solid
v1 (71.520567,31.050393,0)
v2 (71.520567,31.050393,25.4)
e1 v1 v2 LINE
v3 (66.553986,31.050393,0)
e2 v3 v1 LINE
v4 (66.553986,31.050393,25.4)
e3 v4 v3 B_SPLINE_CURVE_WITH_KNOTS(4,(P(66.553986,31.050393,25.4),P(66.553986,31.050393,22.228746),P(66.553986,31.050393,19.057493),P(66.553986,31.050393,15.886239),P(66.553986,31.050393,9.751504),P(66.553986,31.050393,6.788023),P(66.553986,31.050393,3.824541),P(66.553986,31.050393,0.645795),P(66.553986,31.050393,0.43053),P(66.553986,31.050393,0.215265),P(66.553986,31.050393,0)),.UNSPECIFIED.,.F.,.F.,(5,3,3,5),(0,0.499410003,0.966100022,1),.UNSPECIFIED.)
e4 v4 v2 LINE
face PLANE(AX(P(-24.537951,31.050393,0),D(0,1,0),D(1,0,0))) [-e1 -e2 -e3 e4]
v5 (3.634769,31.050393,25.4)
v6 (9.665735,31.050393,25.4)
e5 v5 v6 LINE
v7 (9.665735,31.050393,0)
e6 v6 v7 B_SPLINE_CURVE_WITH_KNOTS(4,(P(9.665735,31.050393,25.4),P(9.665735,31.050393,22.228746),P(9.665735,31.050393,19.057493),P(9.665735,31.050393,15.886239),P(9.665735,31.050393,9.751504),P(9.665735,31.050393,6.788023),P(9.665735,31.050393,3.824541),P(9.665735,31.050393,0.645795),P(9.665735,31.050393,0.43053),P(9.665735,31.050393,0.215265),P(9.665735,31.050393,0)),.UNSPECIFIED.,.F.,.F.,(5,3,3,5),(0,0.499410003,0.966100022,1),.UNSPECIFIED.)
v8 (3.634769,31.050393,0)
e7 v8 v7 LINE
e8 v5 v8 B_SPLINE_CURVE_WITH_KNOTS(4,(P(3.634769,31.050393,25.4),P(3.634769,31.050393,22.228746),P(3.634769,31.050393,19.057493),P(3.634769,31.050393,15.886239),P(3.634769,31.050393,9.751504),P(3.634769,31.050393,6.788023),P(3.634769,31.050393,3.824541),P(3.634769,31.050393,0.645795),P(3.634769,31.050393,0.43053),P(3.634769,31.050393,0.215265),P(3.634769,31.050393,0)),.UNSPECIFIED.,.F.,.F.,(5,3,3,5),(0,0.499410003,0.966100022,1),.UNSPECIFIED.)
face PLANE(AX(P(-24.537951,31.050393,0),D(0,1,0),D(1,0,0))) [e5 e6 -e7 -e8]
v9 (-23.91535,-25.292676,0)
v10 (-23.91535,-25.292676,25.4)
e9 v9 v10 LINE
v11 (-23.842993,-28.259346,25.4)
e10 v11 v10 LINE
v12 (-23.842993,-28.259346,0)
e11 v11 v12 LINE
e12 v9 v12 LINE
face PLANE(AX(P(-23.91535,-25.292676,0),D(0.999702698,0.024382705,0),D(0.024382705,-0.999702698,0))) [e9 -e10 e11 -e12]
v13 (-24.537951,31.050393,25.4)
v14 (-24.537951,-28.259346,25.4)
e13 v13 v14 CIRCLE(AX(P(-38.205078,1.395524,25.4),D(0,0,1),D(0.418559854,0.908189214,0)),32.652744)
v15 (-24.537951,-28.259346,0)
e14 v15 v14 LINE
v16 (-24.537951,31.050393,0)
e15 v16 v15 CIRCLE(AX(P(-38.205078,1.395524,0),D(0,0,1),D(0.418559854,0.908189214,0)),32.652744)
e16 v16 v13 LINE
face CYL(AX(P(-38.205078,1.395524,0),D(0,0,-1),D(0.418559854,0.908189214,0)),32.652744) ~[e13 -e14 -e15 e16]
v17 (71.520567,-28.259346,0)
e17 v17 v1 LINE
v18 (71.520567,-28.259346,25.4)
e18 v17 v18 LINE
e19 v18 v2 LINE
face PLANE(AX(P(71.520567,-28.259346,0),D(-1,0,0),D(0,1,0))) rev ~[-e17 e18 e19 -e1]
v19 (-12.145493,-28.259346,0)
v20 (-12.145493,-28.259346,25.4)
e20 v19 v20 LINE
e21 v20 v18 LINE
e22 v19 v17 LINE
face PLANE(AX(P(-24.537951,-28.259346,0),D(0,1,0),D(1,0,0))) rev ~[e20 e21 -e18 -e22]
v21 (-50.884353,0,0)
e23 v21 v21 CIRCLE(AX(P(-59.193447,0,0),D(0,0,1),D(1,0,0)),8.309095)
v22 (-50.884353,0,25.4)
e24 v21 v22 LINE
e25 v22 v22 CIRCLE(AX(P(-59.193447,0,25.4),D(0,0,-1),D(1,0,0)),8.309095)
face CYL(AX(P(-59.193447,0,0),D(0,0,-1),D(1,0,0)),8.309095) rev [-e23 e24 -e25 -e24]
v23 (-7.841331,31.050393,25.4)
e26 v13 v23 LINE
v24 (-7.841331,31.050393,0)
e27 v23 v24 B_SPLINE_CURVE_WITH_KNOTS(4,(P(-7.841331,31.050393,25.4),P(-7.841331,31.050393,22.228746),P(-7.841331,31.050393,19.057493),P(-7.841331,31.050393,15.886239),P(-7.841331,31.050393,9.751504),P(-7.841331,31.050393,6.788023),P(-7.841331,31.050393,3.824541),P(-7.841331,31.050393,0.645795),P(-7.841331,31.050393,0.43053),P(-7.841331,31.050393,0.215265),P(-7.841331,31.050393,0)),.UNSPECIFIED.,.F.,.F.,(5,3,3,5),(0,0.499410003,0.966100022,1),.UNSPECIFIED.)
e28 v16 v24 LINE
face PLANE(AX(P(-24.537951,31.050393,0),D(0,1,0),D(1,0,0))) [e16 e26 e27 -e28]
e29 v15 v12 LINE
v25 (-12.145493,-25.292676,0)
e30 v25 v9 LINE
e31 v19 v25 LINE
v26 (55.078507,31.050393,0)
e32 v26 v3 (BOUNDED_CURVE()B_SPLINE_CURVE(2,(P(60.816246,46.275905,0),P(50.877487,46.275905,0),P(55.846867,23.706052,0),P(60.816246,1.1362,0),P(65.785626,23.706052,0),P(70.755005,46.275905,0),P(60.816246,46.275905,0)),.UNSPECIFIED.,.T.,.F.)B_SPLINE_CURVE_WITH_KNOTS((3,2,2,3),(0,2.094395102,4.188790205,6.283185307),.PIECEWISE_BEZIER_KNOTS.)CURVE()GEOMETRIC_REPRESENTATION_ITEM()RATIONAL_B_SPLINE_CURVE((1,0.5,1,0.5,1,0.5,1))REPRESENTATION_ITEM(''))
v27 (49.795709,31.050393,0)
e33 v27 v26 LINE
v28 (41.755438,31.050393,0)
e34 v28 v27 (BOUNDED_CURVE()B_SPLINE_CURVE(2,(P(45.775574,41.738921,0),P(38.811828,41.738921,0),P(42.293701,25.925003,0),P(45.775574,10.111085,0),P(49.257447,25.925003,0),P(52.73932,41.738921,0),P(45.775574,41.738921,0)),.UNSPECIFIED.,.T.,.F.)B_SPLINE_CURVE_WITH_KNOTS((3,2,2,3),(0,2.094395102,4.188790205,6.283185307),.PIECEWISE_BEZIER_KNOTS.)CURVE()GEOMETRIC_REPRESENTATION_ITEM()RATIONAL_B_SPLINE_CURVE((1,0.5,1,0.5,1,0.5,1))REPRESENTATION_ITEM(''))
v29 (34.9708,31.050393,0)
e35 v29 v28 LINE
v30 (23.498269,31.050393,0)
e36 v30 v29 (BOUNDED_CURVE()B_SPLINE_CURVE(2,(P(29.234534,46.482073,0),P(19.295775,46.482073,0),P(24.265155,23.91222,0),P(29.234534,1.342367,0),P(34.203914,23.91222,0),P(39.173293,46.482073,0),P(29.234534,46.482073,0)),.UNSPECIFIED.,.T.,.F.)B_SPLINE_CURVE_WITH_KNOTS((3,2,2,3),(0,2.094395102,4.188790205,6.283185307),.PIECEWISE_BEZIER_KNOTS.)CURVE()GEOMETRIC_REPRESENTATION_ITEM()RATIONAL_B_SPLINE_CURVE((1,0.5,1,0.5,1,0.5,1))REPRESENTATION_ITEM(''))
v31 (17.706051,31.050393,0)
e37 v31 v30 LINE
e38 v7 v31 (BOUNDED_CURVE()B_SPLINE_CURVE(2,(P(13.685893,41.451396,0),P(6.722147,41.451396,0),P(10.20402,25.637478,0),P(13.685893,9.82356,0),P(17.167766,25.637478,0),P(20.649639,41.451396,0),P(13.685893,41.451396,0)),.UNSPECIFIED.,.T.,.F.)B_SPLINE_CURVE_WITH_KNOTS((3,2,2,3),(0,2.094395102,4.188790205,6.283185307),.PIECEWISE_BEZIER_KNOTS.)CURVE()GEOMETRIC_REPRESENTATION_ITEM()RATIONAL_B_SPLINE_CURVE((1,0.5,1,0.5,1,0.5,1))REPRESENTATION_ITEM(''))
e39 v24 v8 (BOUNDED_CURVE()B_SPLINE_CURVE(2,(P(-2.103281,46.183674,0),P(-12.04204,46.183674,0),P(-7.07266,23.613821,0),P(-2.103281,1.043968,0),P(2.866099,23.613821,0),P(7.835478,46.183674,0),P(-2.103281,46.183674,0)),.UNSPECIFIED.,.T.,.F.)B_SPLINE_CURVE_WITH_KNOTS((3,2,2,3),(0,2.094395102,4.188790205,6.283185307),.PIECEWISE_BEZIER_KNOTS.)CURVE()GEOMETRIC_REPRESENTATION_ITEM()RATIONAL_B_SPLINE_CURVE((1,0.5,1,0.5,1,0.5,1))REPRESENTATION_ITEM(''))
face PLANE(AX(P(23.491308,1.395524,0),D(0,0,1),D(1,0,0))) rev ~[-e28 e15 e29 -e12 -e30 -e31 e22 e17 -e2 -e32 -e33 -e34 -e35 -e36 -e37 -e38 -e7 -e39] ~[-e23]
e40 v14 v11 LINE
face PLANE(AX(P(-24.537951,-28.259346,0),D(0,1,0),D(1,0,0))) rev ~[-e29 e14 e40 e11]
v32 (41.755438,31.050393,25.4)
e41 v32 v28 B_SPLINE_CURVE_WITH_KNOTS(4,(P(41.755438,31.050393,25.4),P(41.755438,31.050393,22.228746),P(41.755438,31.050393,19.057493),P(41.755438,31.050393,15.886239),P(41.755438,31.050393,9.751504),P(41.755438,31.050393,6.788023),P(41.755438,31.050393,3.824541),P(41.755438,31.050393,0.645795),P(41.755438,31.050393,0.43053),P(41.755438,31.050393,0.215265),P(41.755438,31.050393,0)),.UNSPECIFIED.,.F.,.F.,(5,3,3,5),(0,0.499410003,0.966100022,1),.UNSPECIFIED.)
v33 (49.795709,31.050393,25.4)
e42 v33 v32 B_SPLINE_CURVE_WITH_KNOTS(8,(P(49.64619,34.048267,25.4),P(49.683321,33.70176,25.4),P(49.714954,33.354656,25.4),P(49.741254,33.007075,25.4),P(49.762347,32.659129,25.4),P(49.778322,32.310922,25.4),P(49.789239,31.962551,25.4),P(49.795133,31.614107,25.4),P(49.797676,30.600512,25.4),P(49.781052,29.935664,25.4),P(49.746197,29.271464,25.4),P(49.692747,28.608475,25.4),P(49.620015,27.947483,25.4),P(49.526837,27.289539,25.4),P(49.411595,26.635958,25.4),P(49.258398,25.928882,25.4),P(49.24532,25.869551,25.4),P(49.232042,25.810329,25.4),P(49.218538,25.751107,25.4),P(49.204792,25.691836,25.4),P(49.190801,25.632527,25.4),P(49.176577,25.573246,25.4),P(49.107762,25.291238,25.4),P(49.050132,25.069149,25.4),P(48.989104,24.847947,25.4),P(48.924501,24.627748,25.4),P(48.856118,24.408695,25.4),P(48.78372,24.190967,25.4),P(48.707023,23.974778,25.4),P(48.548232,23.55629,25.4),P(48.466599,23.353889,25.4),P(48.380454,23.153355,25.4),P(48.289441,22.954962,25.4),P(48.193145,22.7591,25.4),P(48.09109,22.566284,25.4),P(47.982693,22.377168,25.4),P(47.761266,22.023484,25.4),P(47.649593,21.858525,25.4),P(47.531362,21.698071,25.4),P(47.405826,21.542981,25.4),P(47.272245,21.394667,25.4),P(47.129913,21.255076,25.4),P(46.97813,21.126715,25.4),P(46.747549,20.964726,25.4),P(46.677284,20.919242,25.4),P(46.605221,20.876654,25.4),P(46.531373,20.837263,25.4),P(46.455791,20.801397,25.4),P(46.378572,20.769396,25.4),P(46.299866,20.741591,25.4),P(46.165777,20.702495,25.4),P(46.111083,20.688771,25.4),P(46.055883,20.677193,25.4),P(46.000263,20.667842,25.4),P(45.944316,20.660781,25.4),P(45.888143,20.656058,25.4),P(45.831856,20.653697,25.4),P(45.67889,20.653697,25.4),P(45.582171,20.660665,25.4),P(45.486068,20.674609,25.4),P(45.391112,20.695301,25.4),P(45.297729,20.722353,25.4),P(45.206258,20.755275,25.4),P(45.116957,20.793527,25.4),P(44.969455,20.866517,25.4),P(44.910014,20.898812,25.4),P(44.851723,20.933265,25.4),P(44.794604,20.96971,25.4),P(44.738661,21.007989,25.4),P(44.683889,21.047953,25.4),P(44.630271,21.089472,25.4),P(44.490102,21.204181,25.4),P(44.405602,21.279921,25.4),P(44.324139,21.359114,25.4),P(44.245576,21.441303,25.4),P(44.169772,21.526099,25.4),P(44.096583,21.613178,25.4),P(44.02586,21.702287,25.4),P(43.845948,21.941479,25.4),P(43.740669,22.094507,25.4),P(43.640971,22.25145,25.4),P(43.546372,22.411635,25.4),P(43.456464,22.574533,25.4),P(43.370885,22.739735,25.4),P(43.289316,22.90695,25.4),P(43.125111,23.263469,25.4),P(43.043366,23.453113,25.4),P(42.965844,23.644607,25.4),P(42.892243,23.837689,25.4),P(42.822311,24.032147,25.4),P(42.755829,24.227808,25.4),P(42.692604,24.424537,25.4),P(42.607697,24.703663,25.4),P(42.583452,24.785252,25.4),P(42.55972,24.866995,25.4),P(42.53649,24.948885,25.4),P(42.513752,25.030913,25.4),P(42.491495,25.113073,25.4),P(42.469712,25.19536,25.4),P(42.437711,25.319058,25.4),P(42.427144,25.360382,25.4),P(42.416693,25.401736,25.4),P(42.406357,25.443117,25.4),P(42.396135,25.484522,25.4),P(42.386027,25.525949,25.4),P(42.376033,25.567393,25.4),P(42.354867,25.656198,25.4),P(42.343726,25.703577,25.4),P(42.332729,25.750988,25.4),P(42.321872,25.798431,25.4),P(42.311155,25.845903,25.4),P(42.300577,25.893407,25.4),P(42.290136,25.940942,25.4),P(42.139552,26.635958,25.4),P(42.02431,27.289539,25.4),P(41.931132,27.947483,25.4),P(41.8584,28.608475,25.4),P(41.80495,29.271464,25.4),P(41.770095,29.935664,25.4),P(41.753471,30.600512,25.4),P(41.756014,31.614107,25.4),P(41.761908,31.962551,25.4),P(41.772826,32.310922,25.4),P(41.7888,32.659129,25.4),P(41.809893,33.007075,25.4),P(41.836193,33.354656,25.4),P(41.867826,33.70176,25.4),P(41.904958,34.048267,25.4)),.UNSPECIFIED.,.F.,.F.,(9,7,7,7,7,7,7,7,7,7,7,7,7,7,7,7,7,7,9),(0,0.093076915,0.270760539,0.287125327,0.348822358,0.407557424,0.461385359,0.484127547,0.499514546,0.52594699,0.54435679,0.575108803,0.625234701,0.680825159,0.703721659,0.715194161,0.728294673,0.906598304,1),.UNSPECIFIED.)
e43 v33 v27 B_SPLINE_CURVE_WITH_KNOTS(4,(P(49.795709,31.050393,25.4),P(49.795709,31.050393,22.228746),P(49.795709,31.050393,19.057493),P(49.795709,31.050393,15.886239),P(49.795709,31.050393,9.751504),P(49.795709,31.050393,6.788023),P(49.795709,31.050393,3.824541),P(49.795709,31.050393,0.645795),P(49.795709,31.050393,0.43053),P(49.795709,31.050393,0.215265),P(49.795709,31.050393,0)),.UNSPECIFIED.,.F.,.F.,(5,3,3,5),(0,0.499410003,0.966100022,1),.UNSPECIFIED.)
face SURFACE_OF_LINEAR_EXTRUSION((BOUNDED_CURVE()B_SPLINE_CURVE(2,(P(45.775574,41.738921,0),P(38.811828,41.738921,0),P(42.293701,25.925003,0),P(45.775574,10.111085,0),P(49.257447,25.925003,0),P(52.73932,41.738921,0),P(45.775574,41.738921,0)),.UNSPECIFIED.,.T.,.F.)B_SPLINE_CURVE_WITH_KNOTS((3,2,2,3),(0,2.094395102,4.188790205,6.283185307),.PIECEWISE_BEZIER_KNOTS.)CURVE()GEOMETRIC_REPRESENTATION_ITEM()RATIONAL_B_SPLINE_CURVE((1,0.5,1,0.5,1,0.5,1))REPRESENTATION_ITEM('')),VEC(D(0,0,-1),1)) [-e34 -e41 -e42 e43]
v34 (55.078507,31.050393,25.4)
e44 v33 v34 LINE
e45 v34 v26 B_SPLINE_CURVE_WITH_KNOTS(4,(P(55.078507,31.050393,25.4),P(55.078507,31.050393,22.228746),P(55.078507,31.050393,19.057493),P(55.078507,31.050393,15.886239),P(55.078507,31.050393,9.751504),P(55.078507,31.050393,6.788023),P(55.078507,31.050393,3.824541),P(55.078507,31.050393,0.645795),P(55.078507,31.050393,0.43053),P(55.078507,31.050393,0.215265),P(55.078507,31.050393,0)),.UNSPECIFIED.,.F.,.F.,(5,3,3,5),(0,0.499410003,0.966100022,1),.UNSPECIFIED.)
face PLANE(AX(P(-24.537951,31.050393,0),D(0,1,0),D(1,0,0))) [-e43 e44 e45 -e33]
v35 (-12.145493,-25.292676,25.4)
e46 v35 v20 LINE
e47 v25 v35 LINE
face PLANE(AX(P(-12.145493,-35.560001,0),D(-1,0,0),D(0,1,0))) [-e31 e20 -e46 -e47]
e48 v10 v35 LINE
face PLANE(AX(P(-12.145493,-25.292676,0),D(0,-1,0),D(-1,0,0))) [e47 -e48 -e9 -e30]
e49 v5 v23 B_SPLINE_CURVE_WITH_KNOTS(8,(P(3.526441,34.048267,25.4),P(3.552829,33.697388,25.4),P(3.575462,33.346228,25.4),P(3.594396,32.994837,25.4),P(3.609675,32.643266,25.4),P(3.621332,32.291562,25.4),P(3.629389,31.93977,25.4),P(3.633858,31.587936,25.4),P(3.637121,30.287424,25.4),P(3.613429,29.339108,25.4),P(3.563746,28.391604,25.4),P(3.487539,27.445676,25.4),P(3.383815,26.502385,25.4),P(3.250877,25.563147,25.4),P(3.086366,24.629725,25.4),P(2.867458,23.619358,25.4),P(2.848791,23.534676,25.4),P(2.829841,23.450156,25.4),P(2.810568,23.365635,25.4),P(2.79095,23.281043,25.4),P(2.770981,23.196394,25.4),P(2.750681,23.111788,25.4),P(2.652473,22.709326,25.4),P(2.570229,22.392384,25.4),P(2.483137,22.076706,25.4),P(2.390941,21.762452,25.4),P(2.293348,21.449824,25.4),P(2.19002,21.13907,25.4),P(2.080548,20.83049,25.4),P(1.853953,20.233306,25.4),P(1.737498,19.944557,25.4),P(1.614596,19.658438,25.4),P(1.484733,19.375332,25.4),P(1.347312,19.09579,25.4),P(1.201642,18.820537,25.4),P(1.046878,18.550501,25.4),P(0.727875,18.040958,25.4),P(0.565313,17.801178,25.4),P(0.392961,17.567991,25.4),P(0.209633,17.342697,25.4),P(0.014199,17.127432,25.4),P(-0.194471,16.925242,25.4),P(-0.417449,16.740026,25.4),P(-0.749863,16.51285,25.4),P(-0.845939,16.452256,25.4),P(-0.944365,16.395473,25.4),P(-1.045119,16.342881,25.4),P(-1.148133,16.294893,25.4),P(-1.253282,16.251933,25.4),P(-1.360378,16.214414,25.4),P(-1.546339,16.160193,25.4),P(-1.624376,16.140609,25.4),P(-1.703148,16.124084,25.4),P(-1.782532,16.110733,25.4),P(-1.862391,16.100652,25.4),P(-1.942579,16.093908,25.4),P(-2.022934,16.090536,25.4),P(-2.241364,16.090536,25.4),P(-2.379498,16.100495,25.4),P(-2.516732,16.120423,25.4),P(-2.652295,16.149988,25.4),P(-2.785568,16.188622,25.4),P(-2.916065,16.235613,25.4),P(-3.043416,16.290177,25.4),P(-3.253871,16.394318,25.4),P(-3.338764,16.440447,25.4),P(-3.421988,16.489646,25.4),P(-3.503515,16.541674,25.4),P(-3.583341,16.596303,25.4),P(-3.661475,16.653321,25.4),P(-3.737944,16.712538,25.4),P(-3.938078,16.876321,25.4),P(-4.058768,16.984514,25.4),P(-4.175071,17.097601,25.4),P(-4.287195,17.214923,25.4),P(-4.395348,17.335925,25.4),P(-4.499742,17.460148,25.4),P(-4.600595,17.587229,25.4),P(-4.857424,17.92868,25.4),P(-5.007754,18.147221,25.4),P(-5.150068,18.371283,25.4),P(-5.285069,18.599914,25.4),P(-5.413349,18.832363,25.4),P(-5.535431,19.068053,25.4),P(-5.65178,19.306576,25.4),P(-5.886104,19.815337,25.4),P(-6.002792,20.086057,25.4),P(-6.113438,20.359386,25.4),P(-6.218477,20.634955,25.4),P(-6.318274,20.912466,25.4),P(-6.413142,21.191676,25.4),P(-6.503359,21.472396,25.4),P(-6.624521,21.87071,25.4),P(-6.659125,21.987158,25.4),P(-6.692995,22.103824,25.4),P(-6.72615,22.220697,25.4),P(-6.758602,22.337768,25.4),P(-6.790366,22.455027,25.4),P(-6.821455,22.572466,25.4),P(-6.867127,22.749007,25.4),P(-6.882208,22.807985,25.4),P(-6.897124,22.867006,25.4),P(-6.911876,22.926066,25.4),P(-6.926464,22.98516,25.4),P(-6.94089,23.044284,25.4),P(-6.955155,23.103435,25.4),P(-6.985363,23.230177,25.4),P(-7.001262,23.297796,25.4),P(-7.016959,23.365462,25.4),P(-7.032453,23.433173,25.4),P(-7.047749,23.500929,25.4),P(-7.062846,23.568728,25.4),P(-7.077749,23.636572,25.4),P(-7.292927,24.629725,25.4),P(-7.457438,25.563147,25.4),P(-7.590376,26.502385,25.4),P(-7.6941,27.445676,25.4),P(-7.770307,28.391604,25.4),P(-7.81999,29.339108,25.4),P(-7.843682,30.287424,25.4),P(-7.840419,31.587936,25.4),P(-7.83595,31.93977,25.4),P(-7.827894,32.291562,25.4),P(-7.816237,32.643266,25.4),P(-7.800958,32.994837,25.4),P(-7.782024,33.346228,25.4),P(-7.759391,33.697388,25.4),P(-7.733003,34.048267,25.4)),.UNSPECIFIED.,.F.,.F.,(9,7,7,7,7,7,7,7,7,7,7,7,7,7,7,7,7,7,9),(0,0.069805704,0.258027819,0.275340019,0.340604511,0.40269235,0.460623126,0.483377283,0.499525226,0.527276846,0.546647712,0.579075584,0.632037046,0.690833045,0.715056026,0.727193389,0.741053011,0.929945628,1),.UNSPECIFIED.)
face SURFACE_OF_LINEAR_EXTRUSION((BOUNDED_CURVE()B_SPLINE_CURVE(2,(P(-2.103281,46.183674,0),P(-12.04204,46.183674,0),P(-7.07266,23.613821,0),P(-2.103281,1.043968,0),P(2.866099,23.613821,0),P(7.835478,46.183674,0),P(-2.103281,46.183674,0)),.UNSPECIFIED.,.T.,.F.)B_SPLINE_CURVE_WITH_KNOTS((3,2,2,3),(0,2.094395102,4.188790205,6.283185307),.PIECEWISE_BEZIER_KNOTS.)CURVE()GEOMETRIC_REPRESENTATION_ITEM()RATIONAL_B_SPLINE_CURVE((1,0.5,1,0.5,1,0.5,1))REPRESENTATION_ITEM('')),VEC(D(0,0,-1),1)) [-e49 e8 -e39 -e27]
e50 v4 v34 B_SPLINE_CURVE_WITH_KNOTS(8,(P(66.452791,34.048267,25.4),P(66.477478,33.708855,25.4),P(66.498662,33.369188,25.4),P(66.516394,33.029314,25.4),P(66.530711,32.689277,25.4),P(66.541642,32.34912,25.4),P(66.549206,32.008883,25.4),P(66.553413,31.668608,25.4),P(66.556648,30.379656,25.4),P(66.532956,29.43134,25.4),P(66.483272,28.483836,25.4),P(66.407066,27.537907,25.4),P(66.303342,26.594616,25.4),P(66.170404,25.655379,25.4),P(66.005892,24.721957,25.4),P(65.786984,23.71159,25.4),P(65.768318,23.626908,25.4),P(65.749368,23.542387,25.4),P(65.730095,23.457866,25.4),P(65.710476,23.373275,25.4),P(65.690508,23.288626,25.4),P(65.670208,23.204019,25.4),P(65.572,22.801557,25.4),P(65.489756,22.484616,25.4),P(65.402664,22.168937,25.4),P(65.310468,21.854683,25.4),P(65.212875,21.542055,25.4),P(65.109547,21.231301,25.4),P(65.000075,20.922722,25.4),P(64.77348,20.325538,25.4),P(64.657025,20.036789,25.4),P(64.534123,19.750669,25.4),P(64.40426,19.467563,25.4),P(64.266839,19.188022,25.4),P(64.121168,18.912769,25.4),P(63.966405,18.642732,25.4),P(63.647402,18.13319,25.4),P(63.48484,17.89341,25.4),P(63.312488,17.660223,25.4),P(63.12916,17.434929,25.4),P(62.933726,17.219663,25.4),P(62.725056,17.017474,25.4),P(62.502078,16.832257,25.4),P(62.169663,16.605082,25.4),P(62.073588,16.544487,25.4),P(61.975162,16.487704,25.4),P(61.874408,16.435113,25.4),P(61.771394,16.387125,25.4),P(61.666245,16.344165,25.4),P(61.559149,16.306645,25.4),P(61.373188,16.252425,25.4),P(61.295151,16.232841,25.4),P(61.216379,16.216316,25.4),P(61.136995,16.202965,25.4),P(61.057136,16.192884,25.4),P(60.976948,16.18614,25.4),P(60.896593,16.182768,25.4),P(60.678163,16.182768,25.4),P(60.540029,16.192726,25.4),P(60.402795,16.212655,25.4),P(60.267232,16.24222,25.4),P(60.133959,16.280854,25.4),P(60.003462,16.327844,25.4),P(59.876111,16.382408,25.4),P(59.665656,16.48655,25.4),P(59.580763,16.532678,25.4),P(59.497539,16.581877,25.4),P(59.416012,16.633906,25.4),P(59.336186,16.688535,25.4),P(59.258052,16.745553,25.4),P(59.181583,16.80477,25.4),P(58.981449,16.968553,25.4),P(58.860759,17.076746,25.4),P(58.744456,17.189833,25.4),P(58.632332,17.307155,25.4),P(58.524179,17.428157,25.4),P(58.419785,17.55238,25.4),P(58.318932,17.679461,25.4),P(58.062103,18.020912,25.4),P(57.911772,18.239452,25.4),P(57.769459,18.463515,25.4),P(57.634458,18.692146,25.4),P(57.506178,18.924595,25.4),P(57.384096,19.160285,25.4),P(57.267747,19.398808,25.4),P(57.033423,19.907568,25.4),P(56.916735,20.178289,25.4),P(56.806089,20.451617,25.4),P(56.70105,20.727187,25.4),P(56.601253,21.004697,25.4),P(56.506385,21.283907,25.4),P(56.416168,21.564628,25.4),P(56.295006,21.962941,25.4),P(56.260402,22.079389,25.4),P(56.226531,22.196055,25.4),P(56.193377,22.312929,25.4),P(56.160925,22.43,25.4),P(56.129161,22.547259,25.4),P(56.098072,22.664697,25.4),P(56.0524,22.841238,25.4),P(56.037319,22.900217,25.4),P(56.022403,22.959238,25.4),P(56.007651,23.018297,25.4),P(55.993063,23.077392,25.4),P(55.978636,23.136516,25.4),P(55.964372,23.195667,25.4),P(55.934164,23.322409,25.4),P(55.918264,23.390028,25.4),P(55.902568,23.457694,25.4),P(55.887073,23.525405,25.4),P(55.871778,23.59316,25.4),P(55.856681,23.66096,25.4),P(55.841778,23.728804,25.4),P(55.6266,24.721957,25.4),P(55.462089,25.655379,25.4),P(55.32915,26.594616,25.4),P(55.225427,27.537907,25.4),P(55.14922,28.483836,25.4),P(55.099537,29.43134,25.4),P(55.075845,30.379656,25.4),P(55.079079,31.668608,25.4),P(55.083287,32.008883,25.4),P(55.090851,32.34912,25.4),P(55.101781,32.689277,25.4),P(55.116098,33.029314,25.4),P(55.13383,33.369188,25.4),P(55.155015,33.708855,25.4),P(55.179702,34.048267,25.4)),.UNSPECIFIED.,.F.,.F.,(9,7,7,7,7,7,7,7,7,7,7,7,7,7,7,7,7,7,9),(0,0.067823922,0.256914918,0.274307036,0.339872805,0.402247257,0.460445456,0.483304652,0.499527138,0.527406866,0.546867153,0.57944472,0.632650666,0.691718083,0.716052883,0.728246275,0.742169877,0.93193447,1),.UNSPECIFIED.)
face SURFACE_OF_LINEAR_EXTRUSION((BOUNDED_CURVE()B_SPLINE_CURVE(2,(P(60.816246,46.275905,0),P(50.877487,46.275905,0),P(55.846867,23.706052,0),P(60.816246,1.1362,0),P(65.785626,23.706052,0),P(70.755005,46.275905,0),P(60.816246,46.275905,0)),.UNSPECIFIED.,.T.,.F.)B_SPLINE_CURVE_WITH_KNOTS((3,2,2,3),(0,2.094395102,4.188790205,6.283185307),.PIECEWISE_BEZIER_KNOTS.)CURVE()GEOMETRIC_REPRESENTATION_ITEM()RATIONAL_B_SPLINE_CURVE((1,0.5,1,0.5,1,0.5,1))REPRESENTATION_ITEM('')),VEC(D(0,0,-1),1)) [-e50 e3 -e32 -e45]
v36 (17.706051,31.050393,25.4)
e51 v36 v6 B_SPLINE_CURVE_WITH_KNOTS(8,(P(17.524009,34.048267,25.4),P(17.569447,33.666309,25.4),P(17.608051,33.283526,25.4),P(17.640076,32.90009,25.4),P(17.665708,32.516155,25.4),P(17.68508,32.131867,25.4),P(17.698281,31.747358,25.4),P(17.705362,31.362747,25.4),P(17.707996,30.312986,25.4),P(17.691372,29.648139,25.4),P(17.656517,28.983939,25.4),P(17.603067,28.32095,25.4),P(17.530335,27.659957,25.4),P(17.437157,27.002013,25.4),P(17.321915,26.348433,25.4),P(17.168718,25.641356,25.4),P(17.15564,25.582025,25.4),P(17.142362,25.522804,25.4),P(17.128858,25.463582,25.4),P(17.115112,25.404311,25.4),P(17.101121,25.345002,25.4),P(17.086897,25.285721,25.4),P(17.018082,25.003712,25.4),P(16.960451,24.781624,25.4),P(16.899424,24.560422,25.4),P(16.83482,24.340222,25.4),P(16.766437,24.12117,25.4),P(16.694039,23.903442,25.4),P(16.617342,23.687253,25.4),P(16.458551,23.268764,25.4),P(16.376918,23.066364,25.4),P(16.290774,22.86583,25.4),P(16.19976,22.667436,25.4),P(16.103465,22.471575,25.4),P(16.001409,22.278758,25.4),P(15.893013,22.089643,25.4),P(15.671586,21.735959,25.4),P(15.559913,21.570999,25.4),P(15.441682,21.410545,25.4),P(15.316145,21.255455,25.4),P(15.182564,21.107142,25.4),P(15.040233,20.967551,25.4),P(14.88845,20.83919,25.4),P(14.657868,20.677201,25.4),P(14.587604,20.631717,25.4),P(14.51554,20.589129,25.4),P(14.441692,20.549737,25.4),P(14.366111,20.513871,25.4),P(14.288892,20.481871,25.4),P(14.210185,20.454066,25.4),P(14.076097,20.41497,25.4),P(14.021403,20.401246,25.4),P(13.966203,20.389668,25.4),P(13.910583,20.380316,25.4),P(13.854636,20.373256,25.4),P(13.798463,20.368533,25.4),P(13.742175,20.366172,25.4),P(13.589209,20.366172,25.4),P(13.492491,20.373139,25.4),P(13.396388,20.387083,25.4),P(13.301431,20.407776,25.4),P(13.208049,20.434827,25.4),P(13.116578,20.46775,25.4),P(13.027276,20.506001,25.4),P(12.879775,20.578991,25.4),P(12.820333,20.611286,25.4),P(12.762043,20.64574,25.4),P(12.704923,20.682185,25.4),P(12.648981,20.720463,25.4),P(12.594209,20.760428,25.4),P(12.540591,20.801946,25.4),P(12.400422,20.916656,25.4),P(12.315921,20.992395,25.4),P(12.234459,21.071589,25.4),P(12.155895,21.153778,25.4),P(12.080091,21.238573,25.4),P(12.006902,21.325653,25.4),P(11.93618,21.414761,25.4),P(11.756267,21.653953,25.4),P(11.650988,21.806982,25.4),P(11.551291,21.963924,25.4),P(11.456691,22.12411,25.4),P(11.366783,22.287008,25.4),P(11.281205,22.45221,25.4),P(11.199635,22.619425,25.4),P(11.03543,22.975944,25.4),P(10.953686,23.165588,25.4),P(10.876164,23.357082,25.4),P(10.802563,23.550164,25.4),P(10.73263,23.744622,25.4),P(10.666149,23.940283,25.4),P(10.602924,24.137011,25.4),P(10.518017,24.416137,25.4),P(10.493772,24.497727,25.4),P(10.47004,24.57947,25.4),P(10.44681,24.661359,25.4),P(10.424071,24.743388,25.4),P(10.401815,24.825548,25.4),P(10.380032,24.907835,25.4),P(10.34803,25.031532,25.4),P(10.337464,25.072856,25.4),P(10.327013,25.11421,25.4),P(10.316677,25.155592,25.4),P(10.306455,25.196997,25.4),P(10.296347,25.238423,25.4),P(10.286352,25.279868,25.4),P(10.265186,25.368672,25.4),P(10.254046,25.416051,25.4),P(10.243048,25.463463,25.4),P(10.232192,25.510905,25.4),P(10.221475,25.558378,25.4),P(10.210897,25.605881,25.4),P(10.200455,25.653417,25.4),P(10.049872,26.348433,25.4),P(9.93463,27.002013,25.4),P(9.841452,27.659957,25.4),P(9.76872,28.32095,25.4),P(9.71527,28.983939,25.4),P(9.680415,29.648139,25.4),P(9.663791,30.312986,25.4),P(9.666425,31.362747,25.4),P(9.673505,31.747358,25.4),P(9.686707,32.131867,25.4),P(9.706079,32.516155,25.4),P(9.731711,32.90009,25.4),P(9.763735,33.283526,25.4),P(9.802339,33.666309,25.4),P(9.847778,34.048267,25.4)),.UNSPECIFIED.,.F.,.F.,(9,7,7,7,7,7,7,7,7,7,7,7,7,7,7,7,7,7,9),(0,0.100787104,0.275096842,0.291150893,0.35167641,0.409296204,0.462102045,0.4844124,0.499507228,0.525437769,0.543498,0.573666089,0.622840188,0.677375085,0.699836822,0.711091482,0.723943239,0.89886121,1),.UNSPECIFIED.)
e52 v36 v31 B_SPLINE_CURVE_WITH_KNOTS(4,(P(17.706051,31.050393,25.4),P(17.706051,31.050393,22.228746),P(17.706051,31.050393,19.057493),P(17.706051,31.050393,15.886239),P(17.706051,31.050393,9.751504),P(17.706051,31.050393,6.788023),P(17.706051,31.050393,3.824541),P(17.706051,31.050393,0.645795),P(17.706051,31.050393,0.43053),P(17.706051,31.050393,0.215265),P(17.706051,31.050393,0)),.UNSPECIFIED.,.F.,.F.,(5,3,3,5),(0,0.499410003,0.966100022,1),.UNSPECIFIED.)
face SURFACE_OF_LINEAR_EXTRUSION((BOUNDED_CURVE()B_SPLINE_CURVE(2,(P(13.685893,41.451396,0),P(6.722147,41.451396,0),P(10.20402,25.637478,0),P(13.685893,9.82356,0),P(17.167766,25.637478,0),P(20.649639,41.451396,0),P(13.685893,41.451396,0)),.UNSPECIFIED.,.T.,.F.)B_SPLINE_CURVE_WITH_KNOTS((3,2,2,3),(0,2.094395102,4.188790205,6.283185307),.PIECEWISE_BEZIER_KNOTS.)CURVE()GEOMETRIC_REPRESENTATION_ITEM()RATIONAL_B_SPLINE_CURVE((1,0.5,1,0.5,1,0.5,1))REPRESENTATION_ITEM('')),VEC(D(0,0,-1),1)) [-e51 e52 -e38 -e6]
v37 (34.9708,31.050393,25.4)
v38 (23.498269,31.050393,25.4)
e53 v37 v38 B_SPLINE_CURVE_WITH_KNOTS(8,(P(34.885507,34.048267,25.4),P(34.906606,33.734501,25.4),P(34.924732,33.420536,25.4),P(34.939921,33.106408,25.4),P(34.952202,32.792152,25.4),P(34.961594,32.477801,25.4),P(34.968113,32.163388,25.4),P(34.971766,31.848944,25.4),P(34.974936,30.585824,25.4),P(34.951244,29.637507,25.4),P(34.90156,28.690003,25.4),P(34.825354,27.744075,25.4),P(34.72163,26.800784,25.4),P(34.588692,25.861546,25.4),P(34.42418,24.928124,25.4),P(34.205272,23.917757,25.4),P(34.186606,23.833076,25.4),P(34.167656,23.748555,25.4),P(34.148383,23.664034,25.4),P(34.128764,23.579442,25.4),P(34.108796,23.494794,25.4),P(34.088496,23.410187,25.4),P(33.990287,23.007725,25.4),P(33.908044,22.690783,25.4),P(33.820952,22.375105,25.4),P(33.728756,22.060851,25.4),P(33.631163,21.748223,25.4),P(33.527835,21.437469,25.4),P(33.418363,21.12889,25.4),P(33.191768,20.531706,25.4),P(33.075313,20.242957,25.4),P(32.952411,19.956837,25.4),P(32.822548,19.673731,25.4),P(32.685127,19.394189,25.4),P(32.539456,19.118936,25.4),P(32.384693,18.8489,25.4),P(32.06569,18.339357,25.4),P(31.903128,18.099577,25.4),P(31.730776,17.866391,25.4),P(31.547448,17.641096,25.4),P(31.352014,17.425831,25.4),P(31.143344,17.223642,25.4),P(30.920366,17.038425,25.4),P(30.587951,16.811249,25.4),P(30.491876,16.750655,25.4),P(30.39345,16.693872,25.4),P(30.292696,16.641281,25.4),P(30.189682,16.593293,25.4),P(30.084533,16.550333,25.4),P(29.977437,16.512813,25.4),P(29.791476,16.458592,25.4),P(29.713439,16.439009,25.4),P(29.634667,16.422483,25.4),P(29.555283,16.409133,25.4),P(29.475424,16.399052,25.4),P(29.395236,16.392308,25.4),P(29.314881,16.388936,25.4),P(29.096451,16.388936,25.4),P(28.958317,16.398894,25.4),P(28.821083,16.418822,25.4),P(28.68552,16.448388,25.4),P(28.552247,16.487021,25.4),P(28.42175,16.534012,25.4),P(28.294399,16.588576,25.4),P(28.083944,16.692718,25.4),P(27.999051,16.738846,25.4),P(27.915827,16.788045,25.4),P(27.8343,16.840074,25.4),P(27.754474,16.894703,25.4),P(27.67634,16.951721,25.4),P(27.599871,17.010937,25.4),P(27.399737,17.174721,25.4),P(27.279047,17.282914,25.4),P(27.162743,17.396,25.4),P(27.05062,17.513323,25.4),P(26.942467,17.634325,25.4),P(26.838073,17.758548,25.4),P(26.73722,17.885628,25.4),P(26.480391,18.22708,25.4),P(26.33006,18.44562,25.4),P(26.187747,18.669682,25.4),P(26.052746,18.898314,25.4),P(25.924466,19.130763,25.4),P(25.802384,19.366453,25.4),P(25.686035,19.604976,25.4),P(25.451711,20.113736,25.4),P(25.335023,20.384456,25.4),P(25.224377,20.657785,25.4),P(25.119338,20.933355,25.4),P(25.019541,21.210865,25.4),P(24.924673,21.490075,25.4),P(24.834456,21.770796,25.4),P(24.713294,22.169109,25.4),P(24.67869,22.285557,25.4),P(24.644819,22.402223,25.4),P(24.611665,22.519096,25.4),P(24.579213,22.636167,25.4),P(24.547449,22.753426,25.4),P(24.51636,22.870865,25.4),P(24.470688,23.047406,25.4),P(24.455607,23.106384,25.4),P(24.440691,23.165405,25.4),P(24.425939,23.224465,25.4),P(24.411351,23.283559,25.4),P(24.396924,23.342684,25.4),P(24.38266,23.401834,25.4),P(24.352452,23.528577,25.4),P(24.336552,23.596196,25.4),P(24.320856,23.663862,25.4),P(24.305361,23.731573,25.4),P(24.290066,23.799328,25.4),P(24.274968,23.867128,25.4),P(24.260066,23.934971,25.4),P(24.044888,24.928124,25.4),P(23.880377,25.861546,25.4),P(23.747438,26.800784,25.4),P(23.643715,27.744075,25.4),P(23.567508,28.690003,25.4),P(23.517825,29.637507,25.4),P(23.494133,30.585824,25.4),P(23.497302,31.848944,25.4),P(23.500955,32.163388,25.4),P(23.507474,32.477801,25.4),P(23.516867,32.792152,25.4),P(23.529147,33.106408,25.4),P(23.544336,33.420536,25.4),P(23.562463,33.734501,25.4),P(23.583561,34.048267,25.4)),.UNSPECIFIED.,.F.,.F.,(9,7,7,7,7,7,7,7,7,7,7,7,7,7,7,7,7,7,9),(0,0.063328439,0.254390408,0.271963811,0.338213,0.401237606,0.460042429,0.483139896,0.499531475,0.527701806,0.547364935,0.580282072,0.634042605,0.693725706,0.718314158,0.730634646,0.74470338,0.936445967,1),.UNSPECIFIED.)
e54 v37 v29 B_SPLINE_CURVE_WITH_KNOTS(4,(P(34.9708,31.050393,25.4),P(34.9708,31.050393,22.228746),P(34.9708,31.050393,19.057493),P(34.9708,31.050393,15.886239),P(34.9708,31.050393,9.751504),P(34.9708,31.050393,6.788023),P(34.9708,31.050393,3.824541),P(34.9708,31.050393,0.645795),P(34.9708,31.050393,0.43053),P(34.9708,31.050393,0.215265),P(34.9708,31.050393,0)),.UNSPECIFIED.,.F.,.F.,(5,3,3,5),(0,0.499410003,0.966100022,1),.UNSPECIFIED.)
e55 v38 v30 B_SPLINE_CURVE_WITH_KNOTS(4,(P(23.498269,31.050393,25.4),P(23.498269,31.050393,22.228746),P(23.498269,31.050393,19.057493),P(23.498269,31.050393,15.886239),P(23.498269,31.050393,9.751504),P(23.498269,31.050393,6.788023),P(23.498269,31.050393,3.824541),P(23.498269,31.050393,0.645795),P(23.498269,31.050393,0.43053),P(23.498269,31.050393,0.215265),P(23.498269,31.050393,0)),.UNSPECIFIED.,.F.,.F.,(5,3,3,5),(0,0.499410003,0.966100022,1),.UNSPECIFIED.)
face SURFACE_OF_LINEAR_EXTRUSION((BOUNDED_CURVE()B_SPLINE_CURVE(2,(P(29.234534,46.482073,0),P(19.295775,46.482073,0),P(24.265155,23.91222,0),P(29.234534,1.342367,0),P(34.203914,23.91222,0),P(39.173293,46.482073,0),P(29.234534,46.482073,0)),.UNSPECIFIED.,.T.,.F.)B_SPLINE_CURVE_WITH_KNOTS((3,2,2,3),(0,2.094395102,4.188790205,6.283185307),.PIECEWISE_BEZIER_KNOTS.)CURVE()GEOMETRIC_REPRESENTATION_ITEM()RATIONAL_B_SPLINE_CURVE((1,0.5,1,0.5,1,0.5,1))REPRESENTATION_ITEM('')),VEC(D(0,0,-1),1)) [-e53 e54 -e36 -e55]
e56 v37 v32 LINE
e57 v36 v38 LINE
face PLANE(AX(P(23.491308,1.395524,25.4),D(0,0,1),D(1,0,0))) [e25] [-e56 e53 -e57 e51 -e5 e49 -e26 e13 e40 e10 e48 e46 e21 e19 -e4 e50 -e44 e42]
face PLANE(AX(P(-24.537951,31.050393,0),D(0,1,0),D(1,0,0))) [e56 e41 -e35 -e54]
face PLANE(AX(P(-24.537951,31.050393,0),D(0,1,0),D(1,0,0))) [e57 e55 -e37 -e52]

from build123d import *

# Parameters (mm, degrees)
F0_W      = 96.0585176945
F0_H      = 59.3097396195
F1_DEPTH  = 25.4
F2_R      = 6.9698590231
F3_DEPTH  = 25.4
F4_R      = 8.3090946214
F5_DEPTH  = 43.688
F7_DEPTH  = 28.702
F9_DEPTH  = 25.4
F11_DEPTH = 36.83


with BuildPart() as f1:
    # F0 (on Top) → F1 (new body)
    with BuildSketch(Plane.XY):
        with Locations((23.4913080931, 1.3955235481)):
            Rectangle(F0_W, F0_H)
        with BuildLine():
            Line((-24.5379507542, -28.2593462616), (-24.5379507542, 31.0503933579))
            ThreePointArc((-24.5379507542, 31.0503933579), (-70.8578223618, 1.3955235481), (-24.5379507542, -28.2593462616))
        make_face()
    extrude(amount=F1_DEPTH)

    # F2 (on Top) → F3 (join)
    with BuildSketch(Plane.XY):
        with Locations((-53.8439378142, 0)):
            Circle(F2_R)
    extrude(amount=F3_DEPTH)

    # F4 (on Top) → F5 (cut)
    with BuildSketch(Plane.XY):
        with Locations((-59.1934472322, 0)):
            Circle(F4_R)
    extrude(amount=F5_DEPTH, mode=Mode.SUBTRACT)

    # F6 (on Top) → F7 (cut)
    with BuildSketch(Plane.XY):
        with BuildLine():
            add(Edge.make_bspline(
                [(-2.1032807417, 46.1836736649), (-12.042039887, 46.1836736649), (-7.0726603144, 23.6138207838), (-2.1032807417, 1.0439679027), (2.8660988309, 23.6138207838), (7.8354784036, 46.1836736649), (-2.1032807417, 46.1836736649)],
                knots=[0, 0, 0, 2.0943951024, 2.0943951024, 4.1887902048, 4.1887902048, 6.2831853072, 6.2831853072, 6.2831853072], degree=2, weights=[1, 0.5, 1, 0.5, 1, 0.5, 1]))
        make_face()
        with BuildLine():
            add(Edge.make_bspline(
                [(13.6858932674, 41.4513960598), (6.7221471859, 41.4513960598), (10.2040202267, 25.6374778168), (13.6858932674, 9.8235595737), (17.1677663081, 25.6374778168), (20.6496393489, 41.4513960598), (13.6858932674, 41.4513960598)],
                knots=[0, 0, 0, 2.0943951024, 2.0943951024, 4.1887902048, 4.1887902048, 6.2831853072, 6.2831853072, 6.2831853072], degree=2, weights=[1, 0.5, 1, 0.5, 1, 0.5, 1]))
        make_face()
        with BuildLine():
            add(Edge.make_bspline(
                [(29.2345341295, 46.4820731431), (19.2957749842, 46.4820731431), (24.2651545569, 23.912220262), (29.2345341295, 1.3423673809), (34.2039137021, 23.912220262), (39.1732932748, 46.4820731431), (29.2345341295, 46.4820731431)],
                knots=[0, 0, 0, 2.0943951024, 2.0943951024, 4.1887902048, 4.1887902048, 6.2831853072, 6.2831853072, 6.2831853072], degree=2, weights=[1, 0.5, 1, 0.5, 1, 0.5, 1]))
        make_face()
        with BuildLine():
            add(Edge.make_bspline(
                [(45.7755737007, 41.7389214156), (38.8118276192, 41.7389214156), (42.2937006599, 25.9250031726), (45.7755737007, 10.1110849296), (49.2574467414, 25.9250031726), (52.7393197821, 41.7389214156), (45.7755737007, 41.7389214156)],
                knots=[0, 0, 0, 2.0943951024, 2.0943951024, 4.1887902048, 4.1887902048, 6.2831853072, 6.2831853072, 6.2831853072], degree=2, weights=[1, 0.5, 1, 0.5, 1, 0.5, 1]))
        make_face()
        with BuildLine():
            add(Edge.make_bspline(
                [(60.8162461653, 46.2759053466), (50.87748702, 46.2759053466), (55.8468665926, 23.7060524655), (60.8162461653, 1.1361995844), (65.7856257379, 23.7060524655), (70.7550053106, 46.2759053466), (60.8162461653, 46.2759053466)],
                knots=[0, 0, 0, 2.0943951024, 2.0943951024, 4.1887902048, 4.1887902048, 6.2831853072, 6.2831853072, 6.2831853072], degree=2, weights=[1, 0.5, 1, 0.5, 1, 0.5, 1]))
        make_face()
    extrude(amount=F7_DEPTH, mode=Mode.SUBTRACT)

    # F8 (on Top) → F9 (cut)
    with BuildSketch(Plane.XY):
        Polygon((71.7460587621, -22.2876053303), (-17.4043662846, -22.2876053303), (-17.4043662846, -27.296056971), (-17.4043662846, -33.5566177964), (71.7460587621, -33.5566177964), align=None)
    extrude(amount=-F9_DEPTH, mode=Mode.SUBTRACT)

    # F10 (on Top) → F11 (cut)
    with BuildSketch(Plane.XY):
        Polygon((-23.9153504372, -25.2926759422), (-23.6649308354, -35.5600006878), (-12.1454931796, -35.5600006878), (-12.1454931796, -25.2926759422), align=None)
    extrude(amount=F11_DEPTH, mode=Mode.SUBTRACT)


solid = f1.part
